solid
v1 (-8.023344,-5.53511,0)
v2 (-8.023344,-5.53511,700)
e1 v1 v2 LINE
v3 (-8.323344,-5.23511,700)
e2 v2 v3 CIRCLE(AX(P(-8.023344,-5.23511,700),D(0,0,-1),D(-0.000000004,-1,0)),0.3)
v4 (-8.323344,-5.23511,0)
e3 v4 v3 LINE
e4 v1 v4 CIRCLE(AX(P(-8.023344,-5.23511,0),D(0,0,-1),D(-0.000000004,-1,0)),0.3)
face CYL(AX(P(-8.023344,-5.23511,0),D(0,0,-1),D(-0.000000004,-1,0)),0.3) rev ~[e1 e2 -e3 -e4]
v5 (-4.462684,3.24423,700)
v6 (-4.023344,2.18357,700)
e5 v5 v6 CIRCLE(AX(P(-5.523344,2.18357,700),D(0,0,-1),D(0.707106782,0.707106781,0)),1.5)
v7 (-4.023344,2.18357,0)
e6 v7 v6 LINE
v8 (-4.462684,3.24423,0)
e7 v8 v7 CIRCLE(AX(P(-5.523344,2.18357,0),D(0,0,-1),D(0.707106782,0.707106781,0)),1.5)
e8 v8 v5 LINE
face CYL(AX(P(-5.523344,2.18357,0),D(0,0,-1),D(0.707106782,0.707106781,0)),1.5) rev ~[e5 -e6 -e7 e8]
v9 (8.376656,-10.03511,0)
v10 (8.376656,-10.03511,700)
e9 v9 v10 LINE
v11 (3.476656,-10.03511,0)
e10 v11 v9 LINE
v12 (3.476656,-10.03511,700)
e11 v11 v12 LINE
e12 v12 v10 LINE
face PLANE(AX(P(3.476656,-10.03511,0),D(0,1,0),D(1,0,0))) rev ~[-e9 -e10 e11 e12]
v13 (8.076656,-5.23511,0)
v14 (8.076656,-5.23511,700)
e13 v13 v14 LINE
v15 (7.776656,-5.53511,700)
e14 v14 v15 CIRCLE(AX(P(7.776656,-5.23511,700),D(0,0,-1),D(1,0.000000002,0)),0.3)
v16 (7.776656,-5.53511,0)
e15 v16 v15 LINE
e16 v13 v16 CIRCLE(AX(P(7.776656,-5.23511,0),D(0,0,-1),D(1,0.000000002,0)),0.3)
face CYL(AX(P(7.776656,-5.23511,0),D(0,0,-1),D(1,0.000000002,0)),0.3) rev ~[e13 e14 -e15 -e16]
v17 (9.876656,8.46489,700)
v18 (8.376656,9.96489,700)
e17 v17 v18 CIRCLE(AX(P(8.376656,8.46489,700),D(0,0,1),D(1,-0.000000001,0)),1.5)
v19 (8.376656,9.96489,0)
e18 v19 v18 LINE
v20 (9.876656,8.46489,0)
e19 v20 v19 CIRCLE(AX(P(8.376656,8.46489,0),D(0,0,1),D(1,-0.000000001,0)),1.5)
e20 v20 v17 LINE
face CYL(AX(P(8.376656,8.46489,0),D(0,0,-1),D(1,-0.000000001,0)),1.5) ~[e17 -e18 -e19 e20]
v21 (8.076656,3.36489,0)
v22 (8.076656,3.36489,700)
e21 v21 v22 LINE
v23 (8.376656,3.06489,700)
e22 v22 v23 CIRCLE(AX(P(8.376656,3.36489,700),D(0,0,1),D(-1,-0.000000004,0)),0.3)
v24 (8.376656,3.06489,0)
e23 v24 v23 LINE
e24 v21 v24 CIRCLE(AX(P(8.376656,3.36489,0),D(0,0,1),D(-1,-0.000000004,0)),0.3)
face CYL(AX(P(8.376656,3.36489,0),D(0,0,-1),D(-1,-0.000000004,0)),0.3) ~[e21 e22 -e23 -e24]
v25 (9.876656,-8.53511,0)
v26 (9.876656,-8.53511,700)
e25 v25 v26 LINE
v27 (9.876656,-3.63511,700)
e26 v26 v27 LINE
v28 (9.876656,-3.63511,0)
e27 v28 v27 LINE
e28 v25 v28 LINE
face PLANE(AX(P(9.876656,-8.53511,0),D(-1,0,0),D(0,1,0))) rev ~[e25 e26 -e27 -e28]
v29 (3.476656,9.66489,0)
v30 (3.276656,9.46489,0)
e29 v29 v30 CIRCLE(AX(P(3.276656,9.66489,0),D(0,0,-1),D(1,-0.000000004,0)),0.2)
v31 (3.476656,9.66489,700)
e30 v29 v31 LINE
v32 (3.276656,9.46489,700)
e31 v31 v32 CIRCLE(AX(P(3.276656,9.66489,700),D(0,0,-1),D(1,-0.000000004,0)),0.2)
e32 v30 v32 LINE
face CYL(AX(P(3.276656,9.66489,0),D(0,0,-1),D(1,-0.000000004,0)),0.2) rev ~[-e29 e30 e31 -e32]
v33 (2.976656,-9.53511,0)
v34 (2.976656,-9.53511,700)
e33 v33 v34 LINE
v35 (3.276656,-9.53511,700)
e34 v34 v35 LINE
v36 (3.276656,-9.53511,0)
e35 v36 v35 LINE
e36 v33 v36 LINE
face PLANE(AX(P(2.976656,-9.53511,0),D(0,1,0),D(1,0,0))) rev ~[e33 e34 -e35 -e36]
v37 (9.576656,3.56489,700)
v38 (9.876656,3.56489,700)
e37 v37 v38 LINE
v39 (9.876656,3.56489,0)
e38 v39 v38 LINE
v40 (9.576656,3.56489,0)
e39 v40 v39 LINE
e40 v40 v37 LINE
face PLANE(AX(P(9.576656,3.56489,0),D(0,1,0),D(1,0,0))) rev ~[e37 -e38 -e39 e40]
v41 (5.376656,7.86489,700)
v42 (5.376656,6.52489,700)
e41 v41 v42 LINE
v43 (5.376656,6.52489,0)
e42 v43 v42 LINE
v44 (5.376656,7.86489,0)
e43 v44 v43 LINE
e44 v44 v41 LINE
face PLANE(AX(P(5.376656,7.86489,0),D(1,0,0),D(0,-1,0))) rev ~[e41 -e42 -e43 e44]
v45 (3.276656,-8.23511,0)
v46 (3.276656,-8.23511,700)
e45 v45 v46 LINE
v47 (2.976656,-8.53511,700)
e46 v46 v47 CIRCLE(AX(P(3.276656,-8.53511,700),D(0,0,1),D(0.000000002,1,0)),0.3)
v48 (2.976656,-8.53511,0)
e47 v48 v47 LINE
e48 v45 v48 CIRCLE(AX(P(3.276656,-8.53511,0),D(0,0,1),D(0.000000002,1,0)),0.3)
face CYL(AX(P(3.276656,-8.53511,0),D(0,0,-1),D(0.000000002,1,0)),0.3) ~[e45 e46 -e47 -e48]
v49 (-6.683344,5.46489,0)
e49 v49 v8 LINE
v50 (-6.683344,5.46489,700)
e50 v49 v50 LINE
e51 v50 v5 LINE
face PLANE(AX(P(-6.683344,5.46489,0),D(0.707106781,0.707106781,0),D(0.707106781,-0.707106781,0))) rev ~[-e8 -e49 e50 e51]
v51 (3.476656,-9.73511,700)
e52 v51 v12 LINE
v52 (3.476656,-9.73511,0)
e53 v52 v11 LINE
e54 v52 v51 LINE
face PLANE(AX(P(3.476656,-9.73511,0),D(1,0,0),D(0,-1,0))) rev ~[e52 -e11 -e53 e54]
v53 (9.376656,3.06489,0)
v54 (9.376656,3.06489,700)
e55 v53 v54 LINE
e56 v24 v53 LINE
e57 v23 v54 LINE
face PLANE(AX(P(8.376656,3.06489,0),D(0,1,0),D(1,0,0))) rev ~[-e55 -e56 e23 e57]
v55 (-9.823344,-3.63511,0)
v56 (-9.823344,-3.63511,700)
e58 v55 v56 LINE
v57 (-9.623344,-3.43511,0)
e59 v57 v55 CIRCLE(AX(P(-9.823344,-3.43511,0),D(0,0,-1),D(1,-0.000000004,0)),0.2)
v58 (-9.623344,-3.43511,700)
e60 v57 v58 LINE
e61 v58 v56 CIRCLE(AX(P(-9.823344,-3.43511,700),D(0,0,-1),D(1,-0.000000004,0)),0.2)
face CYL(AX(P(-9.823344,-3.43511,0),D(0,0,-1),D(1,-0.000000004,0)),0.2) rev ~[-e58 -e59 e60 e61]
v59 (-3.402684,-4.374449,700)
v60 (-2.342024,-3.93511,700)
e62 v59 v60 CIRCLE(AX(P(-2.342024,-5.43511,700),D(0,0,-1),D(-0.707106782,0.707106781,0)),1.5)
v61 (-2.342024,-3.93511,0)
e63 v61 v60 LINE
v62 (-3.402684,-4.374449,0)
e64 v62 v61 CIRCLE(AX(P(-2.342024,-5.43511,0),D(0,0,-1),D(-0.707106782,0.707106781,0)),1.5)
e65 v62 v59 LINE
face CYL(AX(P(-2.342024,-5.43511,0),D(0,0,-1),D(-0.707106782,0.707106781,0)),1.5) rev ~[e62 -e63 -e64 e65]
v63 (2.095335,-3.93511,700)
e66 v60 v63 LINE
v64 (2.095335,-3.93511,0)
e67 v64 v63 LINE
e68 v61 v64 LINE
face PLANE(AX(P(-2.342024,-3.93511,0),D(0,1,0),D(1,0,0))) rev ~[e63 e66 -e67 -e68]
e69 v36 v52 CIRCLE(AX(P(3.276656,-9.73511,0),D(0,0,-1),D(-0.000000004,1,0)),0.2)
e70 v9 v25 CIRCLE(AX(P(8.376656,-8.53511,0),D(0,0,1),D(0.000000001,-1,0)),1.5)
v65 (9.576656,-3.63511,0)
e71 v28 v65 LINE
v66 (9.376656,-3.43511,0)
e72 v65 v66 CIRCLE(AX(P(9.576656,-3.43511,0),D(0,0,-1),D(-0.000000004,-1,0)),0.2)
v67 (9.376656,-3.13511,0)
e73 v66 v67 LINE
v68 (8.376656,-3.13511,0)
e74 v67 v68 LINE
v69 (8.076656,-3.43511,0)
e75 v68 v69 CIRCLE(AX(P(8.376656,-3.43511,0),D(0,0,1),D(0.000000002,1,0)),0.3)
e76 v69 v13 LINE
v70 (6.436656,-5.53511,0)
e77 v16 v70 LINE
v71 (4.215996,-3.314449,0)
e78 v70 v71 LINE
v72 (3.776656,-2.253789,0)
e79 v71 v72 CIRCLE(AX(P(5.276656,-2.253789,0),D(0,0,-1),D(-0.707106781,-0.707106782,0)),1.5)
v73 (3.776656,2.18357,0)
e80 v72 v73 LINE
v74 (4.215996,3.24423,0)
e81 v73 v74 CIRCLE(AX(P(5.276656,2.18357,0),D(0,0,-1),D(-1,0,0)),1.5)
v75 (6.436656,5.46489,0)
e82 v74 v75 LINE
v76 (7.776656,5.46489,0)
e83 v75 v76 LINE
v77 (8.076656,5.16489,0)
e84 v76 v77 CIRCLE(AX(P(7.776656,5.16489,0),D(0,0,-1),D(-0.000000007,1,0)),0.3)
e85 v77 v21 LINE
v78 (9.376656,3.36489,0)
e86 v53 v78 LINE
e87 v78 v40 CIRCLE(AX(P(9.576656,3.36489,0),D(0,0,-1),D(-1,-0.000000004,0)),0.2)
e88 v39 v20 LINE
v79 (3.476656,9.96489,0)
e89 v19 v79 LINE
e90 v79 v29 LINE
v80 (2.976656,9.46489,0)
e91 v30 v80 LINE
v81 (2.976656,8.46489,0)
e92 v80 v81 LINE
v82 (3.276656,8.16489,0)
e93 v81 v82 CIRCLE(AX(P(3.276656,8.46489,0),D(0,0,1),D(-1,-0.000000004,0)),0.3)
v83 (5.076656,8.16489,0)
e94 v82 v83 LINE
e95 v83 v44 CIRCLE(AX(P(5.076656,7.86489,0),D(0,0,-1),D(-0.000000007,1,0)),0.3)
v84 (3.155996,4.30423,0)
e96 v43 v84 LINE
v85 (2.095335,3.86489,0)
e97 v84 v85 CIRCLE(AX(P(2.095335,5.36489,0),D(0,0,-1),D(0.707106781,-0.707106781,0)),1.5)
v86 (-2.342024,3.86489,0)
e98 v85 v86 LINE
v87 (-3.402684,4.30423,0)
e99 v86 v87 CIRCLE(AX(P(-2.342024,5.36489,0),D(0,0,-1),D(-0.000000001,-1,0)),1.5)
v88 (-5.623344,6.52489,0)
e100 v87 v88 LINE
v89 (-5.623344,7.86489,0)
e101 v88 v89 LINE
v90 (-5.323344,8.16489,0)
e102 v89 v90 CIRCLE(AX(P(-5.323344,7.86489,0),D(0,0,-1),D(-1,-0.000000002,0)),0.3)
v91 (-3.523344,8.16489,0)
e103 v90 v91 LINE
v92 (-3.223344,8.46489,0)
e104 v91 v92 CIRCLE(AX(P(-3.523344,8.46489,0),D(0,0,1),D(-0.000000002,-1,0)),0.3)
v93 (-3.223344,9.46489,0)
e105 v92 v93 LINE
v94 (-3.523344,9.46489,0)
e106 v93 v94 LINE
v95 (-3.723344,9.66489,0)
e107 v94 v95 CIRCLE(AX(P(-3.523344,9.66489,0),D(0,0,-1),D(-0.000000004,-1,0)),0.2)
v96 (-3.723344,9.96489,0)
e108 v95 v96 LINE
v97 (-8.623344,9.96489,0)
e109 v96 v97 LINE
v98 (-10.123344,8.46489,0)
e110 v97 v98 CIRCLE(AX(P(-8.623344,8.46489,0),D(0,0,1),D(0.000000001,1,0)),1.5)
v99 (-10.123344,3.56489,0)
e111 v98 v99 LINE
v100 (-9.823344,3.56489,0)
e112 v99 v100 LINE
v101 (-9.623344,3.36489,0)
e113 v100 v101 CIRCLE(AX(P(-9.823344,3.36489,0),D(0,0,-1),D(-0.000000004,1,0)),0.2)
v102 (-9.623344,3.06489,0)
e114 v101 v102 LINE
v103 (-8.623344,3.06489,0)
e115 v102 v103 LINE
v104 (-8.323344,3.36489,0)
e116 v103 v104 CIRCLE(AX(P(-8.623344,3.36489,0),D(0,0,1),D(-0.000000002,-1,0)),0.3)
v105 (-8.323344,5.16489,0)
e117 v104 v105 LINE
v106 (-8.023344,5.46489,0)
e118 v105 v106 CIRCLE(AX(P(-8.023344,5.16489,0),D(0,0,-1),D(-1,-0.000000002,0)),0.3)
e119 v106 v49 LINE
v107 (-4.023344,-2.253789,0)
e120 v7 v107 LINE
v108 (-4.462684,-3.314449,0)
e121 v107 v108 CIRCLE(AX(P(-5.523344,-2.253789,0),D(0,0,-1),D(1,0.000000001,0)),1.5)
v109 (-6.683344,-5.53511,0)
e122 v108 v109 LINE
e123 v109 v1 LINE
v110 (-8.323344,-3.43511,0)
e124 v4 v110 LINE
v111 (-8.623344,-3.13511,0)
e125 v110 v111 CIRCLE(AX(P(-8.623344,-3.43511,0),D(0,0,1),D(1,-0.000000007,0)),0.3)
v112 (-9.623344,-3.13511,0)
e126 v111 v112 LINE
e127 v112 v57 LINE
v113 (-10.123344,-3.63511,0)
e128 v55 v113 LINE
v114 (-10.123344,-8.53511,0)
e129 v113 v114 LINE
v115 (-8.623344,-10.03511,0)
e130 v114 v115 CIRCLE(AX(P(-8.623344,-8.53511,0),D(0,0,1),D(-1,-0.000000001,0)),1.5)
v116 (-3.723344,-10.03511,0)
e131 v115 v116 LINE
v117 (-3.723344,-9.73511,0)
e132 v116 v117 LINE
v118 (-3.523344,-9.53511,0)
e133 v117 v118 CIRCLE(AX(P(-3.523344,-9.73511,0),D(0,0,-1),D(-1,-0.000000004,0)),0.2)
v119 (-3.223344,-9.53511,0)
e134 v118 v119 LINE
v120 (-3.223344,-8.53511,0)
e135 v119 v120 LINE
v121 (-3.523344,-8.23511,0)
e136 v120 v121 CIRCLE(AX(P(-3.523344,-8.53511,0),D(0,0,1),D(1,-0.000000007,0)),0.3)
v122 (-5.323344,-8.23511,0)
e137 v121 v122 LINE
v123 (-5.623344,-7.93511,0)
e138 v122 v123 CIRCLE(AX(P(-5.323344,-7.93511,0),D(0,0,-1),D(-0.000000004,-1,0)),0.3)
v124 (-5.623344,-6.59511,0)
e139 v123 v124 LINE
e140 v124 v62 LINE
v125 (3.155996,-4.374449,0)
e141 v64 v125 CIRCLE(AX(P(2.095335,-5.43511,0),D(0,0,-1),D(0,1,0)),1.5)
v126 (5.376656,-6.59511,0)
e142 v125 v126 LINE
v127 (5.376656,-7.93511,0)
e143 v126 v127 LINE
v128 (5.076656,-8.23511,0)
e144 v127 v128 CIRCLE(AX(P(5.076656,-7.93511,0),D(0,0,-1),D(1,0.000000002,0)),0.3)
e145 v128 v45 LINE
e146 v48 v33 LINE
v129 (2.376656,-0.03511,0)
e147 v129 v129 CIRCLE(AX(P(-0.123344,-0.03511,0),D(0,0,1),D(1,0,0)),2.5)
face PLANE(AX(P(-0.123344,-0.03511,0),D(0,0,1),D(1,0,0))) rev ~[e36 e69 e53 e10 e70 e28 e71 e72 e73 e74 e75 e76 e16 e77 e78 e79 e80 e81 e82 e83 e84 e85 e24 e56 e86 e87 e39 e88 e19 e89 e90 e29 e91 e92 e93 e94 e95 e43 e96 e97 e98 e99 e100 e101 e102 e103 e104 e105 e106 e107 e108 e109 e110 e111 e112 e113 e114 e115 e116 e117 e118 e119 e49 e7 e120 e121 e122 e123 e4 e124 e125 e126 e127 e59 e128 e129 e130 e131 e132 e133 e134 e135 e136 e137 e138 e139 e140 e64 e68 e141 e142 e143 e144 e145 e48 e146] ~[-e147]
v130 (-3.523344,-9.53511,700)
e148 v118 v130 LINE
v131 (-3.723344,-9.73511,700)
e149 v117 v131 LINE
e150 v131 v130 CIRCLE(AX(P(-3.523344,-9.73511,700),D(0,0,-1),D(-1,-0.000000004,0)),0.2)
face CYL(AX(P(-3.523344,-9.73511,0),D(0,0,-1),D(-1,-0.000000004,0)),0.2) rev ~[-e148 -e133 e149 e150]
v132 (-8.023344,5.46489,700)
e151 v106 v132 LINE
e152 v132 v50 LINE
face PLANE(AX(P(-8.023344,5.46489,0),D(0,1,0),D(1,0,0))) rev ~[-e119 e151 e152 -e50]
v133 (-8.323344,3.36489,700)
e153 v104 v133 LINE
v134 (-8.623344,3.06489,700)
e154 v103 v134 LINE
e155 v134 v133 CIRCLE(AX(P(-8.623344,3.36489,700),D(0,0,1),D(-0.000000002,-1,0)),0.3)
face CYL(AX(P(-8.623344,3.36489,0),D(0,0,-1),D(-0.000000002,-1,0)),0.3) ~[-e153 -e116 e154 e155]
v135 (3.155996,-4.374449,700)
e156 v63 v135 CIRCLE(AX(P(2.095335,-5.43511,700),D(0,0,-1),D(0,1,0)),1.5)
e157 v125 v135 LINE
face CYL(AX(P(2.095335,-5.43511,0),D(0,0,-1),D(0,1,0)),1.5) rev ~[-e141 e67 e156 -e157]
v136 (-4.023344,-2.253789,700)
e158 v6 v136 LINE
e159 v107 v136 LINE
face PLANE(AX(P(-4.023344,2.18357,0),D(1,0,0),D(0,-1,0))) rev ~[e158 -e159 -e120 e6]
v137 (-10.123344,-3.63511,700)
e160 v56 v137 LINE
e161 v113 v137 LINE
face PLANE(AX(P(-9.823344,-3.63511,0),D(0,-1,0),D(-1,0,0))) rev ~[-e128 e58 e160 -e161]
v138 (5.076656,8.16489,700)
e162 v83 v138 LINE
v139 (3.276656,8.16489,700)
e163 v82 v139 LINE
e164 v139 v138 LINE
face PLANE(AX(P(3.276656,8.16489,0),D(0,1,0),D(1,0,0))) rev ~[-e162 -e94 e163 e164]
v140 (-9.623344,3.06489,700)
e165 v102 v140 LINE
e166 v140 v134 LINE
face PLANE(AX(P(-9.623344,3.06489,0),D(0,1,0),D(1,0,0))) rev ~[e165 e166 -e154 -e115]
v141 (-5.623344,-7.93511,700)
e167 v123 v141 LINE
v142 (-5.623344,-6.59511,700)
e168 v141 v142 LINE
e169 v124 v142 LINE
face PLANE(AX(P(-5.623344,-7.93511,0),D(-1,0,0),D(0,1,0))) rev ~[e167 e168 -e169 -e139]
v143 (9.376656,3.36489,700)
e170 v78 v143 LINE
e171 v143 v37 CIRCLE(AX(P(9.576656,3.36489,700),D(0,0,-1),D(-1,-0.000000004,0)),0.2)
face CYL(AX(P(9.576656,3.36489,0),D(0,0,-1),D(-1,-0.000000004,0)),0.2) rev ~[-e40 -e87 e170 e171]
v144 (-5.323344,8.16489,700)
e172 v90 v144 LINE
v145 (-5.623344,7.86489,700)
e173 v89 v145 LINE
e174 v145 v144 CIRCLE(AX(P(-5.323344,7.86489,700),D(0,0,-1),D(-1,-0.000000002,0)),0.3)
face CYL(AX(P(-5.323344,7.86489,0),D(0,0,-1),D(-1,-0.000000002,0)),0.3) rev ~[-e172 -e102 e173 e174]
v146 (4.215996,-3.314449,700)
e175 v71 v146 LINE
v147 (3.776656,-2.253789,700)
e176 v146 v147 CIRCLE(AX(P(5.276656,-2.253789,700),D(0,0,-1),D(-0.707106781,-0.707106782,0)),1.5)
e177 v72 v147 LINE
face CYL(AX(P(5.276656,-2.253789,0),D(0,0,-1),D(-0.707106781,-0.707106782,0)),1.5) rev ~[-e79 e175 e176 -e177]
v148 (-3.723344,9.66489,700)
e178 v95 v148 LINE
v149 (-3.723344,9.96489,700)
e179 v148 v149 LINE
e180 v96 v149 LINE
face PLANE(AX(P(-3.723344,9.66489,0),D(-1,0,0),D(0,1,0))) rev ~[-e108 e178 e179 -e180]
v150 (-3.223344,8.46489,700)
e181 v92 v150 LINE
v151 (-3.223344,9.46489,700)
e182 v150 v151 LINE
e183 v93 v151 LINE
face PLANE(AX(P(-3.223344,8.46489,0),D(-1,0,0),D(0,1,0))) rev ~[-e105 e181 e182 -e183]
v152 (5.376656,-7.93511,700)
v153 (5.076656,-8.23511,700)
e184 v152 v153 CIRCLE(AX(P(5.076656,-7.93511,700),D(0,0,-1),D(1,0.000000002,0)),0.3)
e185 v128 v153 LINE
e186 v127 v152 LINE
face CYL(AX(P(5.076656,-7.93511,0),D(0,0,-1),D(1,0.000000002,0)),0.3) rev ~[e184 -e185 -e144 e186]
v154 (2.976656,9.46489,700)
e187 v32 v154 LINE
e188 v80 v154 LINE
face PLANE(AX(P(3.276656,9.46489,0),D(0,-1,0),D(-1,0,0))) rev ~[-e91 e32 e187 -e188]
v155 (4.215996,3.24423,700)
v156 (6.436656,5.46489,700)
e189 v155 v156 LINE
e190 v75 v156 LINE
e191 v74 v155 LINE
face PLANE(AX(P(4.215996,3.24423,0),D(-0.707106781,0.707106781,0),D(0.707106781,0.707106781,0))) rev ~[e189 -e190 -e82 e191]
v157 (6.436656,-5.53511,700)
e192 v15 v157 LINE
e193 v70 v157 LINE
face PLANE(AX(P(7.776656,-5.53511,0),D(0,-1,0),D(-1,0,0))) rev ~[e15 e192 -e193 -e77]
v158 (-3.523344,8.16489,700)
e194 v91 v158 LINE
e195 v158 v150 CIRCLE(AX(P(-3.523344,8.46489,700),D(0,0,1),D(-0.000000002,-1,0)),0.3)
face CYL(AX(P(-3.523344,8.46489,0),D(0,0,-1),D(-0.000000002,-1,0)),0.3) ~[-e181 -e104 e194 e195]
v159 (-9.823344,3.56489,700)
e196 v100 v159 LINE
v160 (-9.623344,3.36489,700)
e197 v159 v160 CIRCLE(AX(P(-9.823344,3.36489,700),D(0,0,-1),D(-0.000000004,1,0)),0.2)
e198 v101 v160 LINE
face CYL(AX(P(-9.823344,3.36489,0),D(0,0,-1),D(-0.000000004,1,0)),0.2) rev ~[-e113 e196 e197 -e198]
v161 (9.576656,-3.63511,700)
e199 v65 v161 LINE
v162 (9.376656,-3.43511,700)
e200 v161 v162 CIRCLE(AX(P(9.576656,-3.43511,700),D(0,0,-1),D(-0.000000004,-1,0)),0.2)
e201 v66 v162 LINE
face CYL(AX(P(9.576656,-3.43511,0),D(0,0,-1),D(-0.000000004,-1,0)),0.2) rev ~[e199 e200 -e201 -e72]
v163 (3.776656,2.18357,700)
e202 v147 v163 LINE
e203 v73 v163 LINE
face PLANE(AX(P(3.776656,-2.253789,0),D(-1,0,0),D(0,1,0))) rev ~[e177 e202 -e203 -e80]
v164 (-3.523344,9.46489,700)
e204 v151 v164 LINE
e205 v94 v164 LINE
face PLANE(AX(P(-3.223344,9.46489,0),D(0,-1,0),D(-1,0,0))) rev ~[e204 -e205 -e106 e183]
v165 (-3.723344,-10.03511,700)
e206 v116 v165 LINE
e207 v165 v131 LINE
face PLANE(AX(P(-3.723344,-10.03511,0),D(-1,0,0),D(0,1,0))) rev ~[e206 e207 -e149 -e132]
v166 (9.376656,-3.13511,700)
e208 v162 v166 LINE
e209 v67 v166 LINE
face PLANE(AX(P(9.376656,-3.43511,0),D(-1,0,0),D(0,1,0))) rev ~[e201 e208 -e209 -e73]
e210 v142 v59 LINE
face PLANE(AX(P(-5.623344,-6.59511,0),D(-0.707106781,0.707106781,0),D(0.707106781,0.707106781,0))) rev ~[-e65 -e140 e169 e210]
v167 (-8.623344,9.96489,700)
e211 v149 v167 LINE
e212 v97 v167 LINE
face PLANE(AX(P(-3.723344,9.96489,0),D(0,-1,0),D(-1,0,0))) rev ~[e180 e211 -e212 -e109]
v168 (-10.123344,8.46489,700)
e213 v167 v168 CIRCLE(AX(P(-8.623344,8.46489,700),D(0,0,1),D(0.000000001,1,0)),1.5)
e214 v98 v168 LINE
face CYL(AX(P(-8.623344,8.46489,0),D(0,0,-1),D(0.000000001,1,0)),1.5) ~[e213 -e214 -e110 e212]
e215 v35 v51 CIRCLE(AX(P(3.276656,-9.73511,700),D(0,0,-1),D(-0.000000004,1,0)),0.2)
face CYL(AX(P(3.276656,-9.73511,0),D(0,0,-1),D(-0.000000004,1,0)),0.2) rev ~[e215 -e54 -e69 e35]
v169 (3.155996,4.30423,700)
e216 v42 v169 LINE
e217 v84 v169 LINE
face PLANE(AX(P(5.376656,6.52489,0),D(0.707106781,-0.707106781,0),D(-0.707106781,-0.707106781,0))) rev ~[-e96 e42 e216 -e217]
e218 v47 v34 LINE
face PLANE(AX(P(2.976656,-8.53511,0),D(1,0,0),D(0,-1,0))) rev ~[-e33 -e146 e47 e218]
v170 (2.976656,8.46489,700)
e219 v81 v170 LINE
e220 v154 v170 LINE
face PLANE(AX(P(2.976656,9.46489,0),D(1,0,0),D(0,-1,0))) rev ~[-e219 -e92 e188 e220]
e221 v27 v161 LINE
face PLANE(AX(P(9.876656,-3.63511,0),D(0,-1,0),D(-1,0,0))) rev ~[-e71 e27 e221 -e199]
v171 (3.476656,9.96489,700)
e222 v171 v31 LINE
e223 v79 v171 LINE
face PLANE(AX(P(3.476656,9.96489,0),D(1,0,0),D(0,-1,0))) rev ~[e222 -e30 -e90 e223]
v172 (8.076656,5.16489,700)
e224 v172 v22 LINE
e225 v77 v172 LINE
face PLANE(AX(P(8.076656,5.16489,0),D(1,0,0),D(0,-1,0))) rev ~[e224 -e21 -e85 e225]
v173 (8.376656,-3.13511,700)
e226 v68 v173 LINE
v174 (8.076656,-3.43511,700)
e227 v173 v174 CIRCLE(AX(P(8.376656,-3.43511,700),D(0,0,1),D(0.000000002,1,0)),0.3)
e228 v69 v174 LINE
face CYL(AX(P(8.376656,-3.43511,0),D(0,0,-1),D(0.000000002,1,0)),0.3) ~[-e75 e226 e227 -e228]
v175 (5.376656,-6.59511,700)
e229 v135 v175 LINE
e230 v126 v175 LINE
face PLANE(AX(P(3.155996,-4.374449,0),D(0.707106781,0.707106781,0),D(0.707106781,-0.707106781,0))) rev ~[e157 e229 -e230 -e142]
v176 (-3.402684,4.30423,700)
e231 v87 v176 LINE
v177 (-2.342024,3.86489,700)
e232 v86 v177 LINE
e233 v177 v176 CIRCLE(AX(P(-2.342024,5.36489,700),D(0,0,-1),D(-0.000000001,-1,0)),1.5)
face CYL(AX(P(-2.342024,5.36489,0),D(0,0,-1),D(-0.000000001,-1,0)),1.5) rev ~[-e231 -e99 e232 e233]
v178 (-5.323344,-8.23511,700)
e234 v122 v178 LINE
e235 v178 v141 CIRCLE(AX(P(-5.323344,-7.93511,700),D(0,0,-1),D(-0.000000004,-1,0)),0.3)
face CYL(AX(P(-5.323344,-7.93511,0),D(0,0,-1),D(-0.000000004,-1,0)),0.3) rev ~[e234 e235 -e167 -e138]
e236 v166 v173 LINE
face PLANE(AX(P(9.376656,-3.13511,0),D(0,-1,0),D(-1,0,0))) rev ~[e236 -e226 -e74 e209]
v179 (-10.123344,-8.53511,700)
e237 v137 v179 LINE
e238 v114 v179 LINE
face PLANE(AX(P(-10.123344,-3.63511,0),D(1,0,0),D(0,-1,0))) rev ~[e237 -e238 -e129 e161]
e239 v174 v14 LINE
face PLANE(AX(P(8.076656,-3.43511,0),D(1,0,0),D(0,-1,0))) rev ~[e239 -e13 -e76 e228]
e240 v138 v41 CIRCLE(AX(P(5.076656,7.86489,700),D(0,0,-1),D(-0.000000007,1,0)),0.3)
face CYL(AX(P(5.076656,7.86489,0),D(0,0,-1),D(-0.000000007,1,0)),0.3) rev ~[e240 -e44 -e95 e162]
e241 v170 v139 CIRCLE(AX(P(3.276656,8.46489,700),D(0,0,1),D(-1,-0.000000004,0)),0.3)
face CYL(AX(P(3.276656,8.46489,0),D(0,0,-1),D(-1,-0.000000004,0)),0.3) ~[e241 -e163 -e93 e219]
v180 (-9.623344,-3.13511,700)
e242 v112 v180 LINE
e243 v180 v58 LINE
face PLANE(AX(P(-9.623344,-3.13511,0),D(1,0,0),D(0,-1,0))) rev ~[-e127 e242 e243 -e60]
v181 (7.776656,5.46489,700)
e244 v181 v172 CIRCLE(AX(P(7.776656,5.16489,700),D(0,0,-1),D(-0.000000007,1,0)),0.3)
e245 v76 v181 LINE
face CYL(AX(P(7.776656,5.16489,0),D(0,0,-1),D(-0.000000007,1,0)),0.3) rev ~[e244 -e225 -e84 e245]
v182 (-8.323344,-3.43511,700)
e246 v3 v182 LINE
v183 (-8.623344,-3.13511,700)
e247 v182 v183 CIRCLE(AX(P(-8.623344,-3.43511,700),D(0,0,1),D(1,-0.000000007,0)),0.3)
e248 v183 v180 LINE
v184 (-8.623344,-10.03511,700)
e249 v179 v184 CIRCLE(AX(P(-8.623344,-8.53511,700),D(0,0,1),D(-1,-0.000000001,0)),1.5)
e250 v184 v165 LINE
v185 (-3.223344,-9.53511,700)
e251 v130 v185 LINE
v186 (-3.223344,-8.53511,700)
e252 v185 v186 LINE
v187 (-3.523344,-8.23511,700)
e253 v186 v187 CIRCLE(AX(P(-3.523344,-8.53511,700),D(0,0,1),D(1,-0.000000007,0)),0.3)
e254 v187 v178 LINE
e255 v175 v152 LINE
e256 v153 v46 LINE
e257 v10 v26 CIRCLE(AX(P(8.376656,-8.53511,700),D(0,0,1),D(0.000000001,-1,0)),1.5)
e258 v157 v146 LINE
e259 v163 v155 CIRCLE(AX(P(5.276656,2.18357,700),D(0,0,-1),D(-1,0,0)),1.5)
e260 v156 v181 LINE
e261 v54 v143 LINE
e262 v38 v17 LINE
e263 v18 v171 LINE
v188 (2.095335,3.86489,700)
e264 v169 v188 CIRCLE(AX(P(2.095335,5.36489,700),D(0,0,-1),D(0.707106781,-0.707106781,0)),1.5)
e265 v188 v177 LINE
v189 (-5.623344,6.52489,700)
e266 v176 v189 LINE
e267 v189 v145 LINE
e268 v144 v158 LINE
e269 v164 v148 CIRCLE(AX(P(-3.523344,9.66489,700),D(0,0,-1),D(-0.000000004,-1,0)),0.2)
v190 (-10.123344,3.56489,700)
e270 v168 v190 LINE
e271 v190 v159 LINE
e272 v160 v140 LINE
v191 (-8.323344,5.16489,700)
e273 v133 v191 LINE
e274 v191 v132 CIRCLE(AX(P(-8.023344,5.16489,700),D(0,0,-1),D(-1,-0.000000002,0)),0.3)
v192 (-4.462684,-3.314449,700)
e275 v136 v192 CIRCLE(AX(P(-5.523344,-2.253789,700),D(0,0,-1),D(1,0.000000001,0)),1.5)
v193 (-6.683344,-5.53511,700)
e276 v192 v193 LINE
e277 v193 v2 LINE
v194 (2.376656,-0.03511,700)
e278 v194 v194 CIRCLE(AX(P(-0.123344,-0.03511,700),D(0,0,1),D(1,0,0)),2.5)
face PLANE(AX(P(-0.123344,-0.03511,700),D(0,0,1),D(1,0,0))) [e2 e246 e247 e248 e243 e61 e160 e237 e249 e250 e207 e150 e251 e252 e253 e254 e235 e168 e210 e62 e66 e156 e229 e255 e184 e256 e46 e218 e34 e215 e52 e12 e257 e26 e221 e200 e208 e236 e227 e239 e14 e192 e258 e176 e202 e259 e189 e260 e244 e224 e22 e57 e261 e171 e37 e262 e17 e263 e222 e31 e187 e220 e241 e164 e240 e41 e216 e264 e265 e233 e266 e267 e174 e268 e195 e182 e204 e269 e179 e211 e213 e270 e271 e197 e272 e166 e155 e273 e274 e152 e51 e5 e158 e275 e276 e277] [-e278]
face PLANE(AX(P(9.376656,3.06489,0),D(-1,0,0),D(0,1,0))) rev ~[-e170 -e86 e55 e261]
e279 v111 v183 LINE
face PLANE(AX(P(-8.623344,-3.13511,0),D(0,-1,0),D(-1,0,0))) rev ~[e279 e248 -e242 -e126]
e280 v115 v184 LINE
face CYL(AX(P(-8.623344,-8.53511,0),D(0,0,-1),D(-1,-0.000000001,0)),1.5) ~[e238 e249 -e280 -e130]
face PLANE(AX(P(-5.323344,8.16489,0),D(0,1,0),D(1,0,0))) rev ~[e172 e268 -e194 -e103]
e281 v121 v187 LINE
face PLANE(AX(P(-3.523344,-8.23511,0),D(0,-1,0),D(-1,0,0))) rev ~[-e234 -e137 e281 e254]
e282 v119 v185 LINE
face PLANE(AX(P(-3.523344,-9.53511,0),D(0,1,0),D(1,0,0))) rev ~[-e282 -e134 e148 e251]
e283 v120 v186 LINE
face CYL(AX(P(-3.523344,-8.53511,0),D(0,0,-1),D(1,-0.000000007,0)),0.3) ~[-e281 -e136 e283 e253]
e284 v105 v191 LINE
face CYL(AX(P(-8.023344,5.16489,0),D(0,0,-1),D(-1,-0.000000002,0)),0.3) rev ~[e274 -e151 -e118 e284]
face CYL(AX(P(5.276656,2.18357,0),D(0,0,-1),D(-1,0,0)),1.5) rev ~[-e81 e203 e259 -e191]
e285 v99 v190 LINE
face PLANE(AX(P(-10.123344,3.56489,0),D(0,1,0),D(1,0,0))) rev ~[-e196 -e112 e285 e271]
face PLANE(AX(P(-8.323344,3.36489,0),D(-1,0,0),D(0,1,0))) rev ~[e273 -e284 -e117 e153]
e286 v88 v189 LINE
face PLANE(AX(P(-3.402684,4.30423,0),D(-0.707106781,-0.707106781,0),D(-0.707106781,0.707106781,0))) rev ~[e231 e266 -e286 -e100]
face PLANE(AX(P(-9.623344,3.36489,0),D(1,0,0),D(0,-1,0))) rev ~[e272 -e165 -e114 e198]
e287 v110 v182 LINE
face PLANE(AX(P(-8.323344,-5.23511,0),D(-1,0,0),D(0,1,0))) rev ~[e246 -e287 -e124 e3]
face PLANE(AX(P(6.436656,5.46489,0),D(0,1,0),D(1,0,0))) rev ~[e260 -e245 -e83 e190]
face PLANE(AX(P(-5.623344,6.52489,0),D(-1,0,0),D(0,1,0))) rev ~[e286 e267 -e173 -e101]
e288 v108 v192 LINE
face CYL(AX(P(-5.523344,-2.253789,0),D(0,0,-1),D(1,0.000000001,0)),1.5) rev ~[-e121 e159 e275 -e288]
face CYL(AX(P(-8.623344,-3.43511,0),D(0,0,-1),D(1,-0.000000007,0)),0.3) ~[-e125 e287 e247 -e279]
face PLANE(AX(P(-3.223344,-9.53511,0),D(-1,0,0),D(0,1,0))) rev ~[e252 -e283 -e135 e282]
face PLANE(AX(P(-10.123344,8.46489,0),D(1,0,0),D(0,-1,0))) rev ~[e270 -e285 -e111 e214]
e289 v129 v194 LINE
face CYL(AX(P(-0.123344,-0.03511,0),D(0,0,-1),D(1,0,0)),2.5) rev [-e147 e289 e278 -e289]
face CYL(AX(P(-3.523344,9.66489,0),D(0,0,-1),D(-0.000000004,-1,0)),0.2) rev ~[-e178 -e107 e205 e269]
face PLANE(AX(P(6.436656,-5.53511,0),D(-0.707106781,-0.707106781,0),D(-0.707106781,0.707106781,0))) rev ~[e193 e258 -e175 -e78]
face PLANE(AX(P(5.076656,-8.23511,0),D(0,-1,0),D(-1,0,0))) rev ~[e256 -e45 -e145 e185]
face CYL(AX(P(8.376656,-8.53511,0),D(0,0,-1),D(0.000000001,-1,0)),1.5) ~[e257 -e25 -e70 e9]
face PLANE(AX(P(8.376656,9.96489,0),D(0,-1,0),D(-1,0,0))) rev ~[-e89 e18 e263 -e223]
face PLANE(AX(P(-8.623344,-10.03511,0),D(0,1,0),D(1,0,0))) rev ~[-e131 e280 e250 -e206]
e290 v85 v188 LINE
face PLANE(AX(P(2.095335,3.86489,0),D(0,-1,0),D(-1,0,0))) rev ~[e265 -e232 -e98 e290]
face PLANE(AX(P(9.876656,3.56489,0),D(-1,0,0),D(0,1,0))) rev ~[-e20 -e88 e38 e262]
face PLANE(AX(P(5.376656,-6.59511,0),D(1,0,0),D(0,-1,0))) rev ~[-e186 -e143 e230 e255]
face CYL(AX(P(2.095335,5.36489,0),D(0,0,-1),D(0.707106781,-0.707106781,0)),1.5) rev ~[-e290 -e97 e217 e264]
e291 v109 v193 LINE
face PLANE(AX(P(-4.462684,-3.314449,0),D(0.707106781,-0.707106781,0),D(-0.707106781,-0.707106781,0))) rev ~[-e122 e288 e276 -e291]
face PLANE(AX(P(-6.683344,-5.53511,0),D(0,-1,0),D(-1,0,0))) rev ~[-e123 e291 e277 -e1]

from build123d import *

# Parameters (mm, degrees)
SKETCH_1_R      = 2.5
EXTRUDE_1_DEPTH = 700


with BuildPart() as part:
    # 草图1 → 凸台-拉伸1 (new body)
    with BuildSketch(Plane.XY):
        with BuildLine():
            Line((4.215995631, 3.244230202), (6.436655803, 5.464890373))
            Line((6.436655803, 5.464890373), (7.776655803, 5.464890373))
            ThreePointArc((7.776655803, 5.464890373), (7.988787838, 5.377022408), (8.076655803, 5.164890373))
            Line((8.076655803, 5.164890373), (8.076655803, 3.364890373))
            ThreePointArc((8.076655803, 3.364890373), (8.164523769, 3.152758339), (8.376655803, 3.064890373))
            Line((8.376655803, 3.064890373), (9.376655803, 3.064890373))
            Line((9.376655803, 3.064890373), (9.376655803, 3.364890373))
            ThreePointArc((9.376655803, 3.364890373), (9.435234447, 3.50631173), (9.576655803, 3.564890373))
            Line((9.576655803, 3.564890373), (9.876655803, 3.564890373))
            Line((9.876655803, 3.564890373), (9.876655803, 8.464890373))
            ThreePointArc((9.876655803, 8.464890373), (9.437315975, 9.525550545), (8.376655803, 9.964890373))
            Line((8.376655803, 9.964890373), (3.476655803, 9.964890373))
            Line((3.476655803, 9.964890373), (3.476655803, 9.664890373))
            ThreePointArc((3.476655803, 9.664890373), (3.418077159, 9.523469017), (3.276655803, 9.464890373))
            Line((3.276655803, 9.464890373), (2.976655803, 9.464890373))
            Line((2.976655803, 9.464890373), (2.976655803, 8.464890373))
            ThreePointArc((2.976655803, 8.464890373), (3.064523769, 8.252758339), (3.276655803, 8.164890373))
            Line((3.276655803, 8.164890373), (5.076655803, 8.164890373))
            ThreePointArc((5.076655803, 8.164890373), (5.288787838, 8.077022408), (5.376655803, 7.864890373))
            Line((5.376655803, 7.864890373), (5.376655803, 6.524890373))
            Line((5.376655803, 6.524890373), (3.155995631, 4.304230202))
            ThreePointArc((3.155995631, 4.304230202), (2.669360608, 3.979071075), (2.09533546, 3.864890373))
            Line((2.09533546, 3.864890373), (-2.342023853, 3.864890373))
            ThreePointArc((-2.342023853, 3.864890373), (-2.916049002, 3.979071075), (-3.402684025, 4.304230202))
            Line((-3.402684025, 4.304230202), (-5.623344197, 6.524890373))
            Line((-5.623344197, 6.524890373), (-5.623344197, 7.864890373))
            ThreePointArc((-5.623344197, 7.864890373), (-5.535476231, 8.077022408), (-5.323344197, 8.164890373))
            Line((-5.323344197, 8.164890373), (-3.523344197, 8.164890373))
            ThreePointArc((-3.523344197, 8.164890373), (-3.311212162, 8.252758339), (-3.223344197, 8.464890373))
            Line((-3.223344197, 8.464890373), (-3.223344197, 9.464890373))
            Line((-3.223344197, 9.464890373), (-3.523344197, 9.464890373))
            ThreePointArc((-3.523344197, 9.464890373), (-3.664765553, 9.523469017), (-3.723344197, 9.664890373))
            Line((-3.723344197, 9.664890373), (-3.723344197, 9.964890373))
            Line((-3.723344197, 9.964890373), (-8.623344197, 9.964890373))
            ThreePointArc((-8.623344197, 9.964890373), (-9.684004369, 9.525550545), (-10.123344197, 8.464890373))
            Line((-10.123344197, 8.464890373), (-10.123344197, 3.564890373))
            Line((-10.123344197, 3.564890373), (-9.823344197, 3.564890373))
            ThreePointArc((-9.823344197, 3.564890373), (-9.681922841, 3.50631173), (-9.623344197, 3.364890373))
            Line((-9.623344197, 3.364890373), (-9.623344197, 3.064890373))
            Line((-9.623344197, 3.064890373), (-8.623344197, 3.064890373))
            ThreePointArc((-8.623344197, 3.064890373), (-8.411212162, 3.152758339), (-8.323344197, 3.364890373))
            Line((-8.323344197, 3.364890373), (-8.323344197, 5.164890373))
            ThreePointArc((-8.323344197, 5.164890373), (-8.235476231, 5.377022408), (-8.023344197, 5.464890373))
            Line((-8.023344197, 5.464890373), (-6.683344197, 5.464890373))
            Line((-6.683344197, 5.464890373), (-4.462684025, 3.244230202))
            ThreePointArc((-4.462684025, 3.244230202), (-4.137524898, 2.757595178), (-4.023344197, 2.18357003))
            Line((-4.023344197, 2.18357003), (-4.023344197, -2.253789283))
            ThreePointArc((-4.023344197, -2.253789283), (-4.137524898, -2.827814432), (-4.462684025, -3.314449455))
            Line((-4.462684025, -3.314449455), (-6.683344197, -5.535109627))
            Line((-6.683344197, -5.535109627), (-8.023344197, -5.535109627))
            ThreePointArc((-8.023344197, -5.535109627), (-8.235476231, -5.447241661), (-8.323344197, -5.235109627))
            Line((-8.323344197, -5.235109627), (-8.323344197, -3.435109627))
            ThreePointArc((-8.323344197, -3.435109627), (-8.411212162, -3.222977592), (-8.623344197, -3.135109627))
            Line((-8.623344197, -3.135109627), (-9.623344197, -3.135109627))
            Line((-9.623344197, -3.135109627), (-9.623344197, -3.435109627))
            ThreePointArc((-9.623344197, -3.435109627), (-9.681922841, -3.576530983), (-9.823344197, -3.635109627))
            Line((-9.823344197, -3.635109627), (-10.123344197, -3.635109627))
            Line((-10.123344197, -3.635109627), (-10.123344197, -8.535109627))
            ThreePointArc((-10.123344197, -8.535109627), (-9.684004369, -9.595769798), (-8.623344197, -10.035109627))
            Line((-8.623344197, -10.035109627), (-3.723344197, -10.035109627))
            Line((-3.723344197, -10.035109627), (-3.723344197, -9.735109627))
            ThreePointArc((-3.723344197, -9.735109627), (-3.664765553, -9.59368827), (-3.523344197, -9.535109627))
            Line((-3.523344197, -9.535109627), (-3.223344197, -9.535109627))
            Line((-3.223344197, -9.535109627), (-3.223344197, -8.535109627))
            ThreePointArc((-3.223344197, -8.535109627), (-3.311212162, -8.322977592), (-3.523344197, -8.235109627))
            Line((-3.523344197, -8.235109627), (-5.323344197, -8.235109627))
            ThreePointArc((-5.323344197, -8.235109627), (-5.535476231, -8.147241661), (-5.623344197, -7.935109627))
            Line((-5.623344197, -7.935109627), (-5.623344197, -6.595109627))
            Line((-5.623344197, -6.595109627), (-3.402684025, -4.374449455))
            ThreePointArc((-3.402684025, -4.374449455), (-2.916049002, -4.049290328), (-2.342023853, -3.935109627))
            Line((-2.342023853, -3.935109627), (2.09533546, -3.935109627))
            ThreePointArc((2.09533546, -3.935109627), (2.669360608, -4.049290328), (3.155995631, -4.374449455))
            Line((3.155995631, -4.374449455), (5.376655803, -6.595109627))
            Line((5.376655803, -6.595109627), (5.376655803, -7.935109627))
            ThreePointArc((5.376655803, -7.935109627), (5.288787838, -8.147241661), (5.076655803, -8.235109627))
            Line((5.076655803, -8.235109627), (3.276655803, -8.235109627))
            ThreePointArc((3.276655803, -8.235109627), (3.064523769, -8.322977592), (2.976655803, -8.535109627))
            Line((2.976655803, -8.535109627), (2.976655803, -9.535109627))
            Line((2.976655803, -9.535109627), (3.276655803, -9.535109627))
            ThreePointArc((3.276655803, -9.535109627), (3.418077159, -9.59368827), (3.476655803, -9.735109627))
            Line((3.476655803, -9.735109627), (3.476655803, -10.035109627))
            Line((3.476655803, -10.035109627), (8.376655803, -10.035109627))
            ThreePointArc((8.376655803, -10.035109627), (9.437315975, -9.595769798), (9.876655803, -8.535109627))
            Line((9.876655803, -8.535109627), (9.876655803, -3.635109627))
            Line((9.876655803, -3.635109627), (9.576655803, -3.635109627))
            ThreePointArc((9.576655803, -3.635109627), (9.435234447, -3.576530983), (9.376655803, -3.435109627))
            Line((9.376655803, -3.435109627), (9.376655803, -3.135109627))
            Line((9.376655803, -3.135109627), (8.376655803, -3.135109627))
            ThreePointArc((8.376655803, -3.135109627), (8.164523769, -3.222977592), (8.076655803, -3.435109627))
            Line((8.076655803, -3.435109627), (8.076655803, -5.235109627))
            ThreePointArc((8.076655803, -5.235109627), (7.988787838, -5.447241661), (7.776655803, -5.535109627))
            Line((7.776655803, -5.535109627), (6.436655803, -5.535109627))
            Line((6.436655803, -5.535109627), (4.215995631, -3.314449455))
            ThreePointArc((4.215995631, -3.314449455), (3.890836504, -2.827814432), (3.776655803, -2.253789283))
            Line((3.776655803, -2.253789283), (3.776655803, 2.18357003))
            ThreePointArc((3.776655803, 2.18357003), (3.890836504, 2.757595178), (4.215995631, 3.244230202))
        make_face()
        with Locations((-0.123344197, -0.035109627)):
            Circle(SKETCH_1_R, mode=Mode.SUBTRACT)
    extrude(amount=EXTRUDE_1_DEPTH)


solid = part.part
